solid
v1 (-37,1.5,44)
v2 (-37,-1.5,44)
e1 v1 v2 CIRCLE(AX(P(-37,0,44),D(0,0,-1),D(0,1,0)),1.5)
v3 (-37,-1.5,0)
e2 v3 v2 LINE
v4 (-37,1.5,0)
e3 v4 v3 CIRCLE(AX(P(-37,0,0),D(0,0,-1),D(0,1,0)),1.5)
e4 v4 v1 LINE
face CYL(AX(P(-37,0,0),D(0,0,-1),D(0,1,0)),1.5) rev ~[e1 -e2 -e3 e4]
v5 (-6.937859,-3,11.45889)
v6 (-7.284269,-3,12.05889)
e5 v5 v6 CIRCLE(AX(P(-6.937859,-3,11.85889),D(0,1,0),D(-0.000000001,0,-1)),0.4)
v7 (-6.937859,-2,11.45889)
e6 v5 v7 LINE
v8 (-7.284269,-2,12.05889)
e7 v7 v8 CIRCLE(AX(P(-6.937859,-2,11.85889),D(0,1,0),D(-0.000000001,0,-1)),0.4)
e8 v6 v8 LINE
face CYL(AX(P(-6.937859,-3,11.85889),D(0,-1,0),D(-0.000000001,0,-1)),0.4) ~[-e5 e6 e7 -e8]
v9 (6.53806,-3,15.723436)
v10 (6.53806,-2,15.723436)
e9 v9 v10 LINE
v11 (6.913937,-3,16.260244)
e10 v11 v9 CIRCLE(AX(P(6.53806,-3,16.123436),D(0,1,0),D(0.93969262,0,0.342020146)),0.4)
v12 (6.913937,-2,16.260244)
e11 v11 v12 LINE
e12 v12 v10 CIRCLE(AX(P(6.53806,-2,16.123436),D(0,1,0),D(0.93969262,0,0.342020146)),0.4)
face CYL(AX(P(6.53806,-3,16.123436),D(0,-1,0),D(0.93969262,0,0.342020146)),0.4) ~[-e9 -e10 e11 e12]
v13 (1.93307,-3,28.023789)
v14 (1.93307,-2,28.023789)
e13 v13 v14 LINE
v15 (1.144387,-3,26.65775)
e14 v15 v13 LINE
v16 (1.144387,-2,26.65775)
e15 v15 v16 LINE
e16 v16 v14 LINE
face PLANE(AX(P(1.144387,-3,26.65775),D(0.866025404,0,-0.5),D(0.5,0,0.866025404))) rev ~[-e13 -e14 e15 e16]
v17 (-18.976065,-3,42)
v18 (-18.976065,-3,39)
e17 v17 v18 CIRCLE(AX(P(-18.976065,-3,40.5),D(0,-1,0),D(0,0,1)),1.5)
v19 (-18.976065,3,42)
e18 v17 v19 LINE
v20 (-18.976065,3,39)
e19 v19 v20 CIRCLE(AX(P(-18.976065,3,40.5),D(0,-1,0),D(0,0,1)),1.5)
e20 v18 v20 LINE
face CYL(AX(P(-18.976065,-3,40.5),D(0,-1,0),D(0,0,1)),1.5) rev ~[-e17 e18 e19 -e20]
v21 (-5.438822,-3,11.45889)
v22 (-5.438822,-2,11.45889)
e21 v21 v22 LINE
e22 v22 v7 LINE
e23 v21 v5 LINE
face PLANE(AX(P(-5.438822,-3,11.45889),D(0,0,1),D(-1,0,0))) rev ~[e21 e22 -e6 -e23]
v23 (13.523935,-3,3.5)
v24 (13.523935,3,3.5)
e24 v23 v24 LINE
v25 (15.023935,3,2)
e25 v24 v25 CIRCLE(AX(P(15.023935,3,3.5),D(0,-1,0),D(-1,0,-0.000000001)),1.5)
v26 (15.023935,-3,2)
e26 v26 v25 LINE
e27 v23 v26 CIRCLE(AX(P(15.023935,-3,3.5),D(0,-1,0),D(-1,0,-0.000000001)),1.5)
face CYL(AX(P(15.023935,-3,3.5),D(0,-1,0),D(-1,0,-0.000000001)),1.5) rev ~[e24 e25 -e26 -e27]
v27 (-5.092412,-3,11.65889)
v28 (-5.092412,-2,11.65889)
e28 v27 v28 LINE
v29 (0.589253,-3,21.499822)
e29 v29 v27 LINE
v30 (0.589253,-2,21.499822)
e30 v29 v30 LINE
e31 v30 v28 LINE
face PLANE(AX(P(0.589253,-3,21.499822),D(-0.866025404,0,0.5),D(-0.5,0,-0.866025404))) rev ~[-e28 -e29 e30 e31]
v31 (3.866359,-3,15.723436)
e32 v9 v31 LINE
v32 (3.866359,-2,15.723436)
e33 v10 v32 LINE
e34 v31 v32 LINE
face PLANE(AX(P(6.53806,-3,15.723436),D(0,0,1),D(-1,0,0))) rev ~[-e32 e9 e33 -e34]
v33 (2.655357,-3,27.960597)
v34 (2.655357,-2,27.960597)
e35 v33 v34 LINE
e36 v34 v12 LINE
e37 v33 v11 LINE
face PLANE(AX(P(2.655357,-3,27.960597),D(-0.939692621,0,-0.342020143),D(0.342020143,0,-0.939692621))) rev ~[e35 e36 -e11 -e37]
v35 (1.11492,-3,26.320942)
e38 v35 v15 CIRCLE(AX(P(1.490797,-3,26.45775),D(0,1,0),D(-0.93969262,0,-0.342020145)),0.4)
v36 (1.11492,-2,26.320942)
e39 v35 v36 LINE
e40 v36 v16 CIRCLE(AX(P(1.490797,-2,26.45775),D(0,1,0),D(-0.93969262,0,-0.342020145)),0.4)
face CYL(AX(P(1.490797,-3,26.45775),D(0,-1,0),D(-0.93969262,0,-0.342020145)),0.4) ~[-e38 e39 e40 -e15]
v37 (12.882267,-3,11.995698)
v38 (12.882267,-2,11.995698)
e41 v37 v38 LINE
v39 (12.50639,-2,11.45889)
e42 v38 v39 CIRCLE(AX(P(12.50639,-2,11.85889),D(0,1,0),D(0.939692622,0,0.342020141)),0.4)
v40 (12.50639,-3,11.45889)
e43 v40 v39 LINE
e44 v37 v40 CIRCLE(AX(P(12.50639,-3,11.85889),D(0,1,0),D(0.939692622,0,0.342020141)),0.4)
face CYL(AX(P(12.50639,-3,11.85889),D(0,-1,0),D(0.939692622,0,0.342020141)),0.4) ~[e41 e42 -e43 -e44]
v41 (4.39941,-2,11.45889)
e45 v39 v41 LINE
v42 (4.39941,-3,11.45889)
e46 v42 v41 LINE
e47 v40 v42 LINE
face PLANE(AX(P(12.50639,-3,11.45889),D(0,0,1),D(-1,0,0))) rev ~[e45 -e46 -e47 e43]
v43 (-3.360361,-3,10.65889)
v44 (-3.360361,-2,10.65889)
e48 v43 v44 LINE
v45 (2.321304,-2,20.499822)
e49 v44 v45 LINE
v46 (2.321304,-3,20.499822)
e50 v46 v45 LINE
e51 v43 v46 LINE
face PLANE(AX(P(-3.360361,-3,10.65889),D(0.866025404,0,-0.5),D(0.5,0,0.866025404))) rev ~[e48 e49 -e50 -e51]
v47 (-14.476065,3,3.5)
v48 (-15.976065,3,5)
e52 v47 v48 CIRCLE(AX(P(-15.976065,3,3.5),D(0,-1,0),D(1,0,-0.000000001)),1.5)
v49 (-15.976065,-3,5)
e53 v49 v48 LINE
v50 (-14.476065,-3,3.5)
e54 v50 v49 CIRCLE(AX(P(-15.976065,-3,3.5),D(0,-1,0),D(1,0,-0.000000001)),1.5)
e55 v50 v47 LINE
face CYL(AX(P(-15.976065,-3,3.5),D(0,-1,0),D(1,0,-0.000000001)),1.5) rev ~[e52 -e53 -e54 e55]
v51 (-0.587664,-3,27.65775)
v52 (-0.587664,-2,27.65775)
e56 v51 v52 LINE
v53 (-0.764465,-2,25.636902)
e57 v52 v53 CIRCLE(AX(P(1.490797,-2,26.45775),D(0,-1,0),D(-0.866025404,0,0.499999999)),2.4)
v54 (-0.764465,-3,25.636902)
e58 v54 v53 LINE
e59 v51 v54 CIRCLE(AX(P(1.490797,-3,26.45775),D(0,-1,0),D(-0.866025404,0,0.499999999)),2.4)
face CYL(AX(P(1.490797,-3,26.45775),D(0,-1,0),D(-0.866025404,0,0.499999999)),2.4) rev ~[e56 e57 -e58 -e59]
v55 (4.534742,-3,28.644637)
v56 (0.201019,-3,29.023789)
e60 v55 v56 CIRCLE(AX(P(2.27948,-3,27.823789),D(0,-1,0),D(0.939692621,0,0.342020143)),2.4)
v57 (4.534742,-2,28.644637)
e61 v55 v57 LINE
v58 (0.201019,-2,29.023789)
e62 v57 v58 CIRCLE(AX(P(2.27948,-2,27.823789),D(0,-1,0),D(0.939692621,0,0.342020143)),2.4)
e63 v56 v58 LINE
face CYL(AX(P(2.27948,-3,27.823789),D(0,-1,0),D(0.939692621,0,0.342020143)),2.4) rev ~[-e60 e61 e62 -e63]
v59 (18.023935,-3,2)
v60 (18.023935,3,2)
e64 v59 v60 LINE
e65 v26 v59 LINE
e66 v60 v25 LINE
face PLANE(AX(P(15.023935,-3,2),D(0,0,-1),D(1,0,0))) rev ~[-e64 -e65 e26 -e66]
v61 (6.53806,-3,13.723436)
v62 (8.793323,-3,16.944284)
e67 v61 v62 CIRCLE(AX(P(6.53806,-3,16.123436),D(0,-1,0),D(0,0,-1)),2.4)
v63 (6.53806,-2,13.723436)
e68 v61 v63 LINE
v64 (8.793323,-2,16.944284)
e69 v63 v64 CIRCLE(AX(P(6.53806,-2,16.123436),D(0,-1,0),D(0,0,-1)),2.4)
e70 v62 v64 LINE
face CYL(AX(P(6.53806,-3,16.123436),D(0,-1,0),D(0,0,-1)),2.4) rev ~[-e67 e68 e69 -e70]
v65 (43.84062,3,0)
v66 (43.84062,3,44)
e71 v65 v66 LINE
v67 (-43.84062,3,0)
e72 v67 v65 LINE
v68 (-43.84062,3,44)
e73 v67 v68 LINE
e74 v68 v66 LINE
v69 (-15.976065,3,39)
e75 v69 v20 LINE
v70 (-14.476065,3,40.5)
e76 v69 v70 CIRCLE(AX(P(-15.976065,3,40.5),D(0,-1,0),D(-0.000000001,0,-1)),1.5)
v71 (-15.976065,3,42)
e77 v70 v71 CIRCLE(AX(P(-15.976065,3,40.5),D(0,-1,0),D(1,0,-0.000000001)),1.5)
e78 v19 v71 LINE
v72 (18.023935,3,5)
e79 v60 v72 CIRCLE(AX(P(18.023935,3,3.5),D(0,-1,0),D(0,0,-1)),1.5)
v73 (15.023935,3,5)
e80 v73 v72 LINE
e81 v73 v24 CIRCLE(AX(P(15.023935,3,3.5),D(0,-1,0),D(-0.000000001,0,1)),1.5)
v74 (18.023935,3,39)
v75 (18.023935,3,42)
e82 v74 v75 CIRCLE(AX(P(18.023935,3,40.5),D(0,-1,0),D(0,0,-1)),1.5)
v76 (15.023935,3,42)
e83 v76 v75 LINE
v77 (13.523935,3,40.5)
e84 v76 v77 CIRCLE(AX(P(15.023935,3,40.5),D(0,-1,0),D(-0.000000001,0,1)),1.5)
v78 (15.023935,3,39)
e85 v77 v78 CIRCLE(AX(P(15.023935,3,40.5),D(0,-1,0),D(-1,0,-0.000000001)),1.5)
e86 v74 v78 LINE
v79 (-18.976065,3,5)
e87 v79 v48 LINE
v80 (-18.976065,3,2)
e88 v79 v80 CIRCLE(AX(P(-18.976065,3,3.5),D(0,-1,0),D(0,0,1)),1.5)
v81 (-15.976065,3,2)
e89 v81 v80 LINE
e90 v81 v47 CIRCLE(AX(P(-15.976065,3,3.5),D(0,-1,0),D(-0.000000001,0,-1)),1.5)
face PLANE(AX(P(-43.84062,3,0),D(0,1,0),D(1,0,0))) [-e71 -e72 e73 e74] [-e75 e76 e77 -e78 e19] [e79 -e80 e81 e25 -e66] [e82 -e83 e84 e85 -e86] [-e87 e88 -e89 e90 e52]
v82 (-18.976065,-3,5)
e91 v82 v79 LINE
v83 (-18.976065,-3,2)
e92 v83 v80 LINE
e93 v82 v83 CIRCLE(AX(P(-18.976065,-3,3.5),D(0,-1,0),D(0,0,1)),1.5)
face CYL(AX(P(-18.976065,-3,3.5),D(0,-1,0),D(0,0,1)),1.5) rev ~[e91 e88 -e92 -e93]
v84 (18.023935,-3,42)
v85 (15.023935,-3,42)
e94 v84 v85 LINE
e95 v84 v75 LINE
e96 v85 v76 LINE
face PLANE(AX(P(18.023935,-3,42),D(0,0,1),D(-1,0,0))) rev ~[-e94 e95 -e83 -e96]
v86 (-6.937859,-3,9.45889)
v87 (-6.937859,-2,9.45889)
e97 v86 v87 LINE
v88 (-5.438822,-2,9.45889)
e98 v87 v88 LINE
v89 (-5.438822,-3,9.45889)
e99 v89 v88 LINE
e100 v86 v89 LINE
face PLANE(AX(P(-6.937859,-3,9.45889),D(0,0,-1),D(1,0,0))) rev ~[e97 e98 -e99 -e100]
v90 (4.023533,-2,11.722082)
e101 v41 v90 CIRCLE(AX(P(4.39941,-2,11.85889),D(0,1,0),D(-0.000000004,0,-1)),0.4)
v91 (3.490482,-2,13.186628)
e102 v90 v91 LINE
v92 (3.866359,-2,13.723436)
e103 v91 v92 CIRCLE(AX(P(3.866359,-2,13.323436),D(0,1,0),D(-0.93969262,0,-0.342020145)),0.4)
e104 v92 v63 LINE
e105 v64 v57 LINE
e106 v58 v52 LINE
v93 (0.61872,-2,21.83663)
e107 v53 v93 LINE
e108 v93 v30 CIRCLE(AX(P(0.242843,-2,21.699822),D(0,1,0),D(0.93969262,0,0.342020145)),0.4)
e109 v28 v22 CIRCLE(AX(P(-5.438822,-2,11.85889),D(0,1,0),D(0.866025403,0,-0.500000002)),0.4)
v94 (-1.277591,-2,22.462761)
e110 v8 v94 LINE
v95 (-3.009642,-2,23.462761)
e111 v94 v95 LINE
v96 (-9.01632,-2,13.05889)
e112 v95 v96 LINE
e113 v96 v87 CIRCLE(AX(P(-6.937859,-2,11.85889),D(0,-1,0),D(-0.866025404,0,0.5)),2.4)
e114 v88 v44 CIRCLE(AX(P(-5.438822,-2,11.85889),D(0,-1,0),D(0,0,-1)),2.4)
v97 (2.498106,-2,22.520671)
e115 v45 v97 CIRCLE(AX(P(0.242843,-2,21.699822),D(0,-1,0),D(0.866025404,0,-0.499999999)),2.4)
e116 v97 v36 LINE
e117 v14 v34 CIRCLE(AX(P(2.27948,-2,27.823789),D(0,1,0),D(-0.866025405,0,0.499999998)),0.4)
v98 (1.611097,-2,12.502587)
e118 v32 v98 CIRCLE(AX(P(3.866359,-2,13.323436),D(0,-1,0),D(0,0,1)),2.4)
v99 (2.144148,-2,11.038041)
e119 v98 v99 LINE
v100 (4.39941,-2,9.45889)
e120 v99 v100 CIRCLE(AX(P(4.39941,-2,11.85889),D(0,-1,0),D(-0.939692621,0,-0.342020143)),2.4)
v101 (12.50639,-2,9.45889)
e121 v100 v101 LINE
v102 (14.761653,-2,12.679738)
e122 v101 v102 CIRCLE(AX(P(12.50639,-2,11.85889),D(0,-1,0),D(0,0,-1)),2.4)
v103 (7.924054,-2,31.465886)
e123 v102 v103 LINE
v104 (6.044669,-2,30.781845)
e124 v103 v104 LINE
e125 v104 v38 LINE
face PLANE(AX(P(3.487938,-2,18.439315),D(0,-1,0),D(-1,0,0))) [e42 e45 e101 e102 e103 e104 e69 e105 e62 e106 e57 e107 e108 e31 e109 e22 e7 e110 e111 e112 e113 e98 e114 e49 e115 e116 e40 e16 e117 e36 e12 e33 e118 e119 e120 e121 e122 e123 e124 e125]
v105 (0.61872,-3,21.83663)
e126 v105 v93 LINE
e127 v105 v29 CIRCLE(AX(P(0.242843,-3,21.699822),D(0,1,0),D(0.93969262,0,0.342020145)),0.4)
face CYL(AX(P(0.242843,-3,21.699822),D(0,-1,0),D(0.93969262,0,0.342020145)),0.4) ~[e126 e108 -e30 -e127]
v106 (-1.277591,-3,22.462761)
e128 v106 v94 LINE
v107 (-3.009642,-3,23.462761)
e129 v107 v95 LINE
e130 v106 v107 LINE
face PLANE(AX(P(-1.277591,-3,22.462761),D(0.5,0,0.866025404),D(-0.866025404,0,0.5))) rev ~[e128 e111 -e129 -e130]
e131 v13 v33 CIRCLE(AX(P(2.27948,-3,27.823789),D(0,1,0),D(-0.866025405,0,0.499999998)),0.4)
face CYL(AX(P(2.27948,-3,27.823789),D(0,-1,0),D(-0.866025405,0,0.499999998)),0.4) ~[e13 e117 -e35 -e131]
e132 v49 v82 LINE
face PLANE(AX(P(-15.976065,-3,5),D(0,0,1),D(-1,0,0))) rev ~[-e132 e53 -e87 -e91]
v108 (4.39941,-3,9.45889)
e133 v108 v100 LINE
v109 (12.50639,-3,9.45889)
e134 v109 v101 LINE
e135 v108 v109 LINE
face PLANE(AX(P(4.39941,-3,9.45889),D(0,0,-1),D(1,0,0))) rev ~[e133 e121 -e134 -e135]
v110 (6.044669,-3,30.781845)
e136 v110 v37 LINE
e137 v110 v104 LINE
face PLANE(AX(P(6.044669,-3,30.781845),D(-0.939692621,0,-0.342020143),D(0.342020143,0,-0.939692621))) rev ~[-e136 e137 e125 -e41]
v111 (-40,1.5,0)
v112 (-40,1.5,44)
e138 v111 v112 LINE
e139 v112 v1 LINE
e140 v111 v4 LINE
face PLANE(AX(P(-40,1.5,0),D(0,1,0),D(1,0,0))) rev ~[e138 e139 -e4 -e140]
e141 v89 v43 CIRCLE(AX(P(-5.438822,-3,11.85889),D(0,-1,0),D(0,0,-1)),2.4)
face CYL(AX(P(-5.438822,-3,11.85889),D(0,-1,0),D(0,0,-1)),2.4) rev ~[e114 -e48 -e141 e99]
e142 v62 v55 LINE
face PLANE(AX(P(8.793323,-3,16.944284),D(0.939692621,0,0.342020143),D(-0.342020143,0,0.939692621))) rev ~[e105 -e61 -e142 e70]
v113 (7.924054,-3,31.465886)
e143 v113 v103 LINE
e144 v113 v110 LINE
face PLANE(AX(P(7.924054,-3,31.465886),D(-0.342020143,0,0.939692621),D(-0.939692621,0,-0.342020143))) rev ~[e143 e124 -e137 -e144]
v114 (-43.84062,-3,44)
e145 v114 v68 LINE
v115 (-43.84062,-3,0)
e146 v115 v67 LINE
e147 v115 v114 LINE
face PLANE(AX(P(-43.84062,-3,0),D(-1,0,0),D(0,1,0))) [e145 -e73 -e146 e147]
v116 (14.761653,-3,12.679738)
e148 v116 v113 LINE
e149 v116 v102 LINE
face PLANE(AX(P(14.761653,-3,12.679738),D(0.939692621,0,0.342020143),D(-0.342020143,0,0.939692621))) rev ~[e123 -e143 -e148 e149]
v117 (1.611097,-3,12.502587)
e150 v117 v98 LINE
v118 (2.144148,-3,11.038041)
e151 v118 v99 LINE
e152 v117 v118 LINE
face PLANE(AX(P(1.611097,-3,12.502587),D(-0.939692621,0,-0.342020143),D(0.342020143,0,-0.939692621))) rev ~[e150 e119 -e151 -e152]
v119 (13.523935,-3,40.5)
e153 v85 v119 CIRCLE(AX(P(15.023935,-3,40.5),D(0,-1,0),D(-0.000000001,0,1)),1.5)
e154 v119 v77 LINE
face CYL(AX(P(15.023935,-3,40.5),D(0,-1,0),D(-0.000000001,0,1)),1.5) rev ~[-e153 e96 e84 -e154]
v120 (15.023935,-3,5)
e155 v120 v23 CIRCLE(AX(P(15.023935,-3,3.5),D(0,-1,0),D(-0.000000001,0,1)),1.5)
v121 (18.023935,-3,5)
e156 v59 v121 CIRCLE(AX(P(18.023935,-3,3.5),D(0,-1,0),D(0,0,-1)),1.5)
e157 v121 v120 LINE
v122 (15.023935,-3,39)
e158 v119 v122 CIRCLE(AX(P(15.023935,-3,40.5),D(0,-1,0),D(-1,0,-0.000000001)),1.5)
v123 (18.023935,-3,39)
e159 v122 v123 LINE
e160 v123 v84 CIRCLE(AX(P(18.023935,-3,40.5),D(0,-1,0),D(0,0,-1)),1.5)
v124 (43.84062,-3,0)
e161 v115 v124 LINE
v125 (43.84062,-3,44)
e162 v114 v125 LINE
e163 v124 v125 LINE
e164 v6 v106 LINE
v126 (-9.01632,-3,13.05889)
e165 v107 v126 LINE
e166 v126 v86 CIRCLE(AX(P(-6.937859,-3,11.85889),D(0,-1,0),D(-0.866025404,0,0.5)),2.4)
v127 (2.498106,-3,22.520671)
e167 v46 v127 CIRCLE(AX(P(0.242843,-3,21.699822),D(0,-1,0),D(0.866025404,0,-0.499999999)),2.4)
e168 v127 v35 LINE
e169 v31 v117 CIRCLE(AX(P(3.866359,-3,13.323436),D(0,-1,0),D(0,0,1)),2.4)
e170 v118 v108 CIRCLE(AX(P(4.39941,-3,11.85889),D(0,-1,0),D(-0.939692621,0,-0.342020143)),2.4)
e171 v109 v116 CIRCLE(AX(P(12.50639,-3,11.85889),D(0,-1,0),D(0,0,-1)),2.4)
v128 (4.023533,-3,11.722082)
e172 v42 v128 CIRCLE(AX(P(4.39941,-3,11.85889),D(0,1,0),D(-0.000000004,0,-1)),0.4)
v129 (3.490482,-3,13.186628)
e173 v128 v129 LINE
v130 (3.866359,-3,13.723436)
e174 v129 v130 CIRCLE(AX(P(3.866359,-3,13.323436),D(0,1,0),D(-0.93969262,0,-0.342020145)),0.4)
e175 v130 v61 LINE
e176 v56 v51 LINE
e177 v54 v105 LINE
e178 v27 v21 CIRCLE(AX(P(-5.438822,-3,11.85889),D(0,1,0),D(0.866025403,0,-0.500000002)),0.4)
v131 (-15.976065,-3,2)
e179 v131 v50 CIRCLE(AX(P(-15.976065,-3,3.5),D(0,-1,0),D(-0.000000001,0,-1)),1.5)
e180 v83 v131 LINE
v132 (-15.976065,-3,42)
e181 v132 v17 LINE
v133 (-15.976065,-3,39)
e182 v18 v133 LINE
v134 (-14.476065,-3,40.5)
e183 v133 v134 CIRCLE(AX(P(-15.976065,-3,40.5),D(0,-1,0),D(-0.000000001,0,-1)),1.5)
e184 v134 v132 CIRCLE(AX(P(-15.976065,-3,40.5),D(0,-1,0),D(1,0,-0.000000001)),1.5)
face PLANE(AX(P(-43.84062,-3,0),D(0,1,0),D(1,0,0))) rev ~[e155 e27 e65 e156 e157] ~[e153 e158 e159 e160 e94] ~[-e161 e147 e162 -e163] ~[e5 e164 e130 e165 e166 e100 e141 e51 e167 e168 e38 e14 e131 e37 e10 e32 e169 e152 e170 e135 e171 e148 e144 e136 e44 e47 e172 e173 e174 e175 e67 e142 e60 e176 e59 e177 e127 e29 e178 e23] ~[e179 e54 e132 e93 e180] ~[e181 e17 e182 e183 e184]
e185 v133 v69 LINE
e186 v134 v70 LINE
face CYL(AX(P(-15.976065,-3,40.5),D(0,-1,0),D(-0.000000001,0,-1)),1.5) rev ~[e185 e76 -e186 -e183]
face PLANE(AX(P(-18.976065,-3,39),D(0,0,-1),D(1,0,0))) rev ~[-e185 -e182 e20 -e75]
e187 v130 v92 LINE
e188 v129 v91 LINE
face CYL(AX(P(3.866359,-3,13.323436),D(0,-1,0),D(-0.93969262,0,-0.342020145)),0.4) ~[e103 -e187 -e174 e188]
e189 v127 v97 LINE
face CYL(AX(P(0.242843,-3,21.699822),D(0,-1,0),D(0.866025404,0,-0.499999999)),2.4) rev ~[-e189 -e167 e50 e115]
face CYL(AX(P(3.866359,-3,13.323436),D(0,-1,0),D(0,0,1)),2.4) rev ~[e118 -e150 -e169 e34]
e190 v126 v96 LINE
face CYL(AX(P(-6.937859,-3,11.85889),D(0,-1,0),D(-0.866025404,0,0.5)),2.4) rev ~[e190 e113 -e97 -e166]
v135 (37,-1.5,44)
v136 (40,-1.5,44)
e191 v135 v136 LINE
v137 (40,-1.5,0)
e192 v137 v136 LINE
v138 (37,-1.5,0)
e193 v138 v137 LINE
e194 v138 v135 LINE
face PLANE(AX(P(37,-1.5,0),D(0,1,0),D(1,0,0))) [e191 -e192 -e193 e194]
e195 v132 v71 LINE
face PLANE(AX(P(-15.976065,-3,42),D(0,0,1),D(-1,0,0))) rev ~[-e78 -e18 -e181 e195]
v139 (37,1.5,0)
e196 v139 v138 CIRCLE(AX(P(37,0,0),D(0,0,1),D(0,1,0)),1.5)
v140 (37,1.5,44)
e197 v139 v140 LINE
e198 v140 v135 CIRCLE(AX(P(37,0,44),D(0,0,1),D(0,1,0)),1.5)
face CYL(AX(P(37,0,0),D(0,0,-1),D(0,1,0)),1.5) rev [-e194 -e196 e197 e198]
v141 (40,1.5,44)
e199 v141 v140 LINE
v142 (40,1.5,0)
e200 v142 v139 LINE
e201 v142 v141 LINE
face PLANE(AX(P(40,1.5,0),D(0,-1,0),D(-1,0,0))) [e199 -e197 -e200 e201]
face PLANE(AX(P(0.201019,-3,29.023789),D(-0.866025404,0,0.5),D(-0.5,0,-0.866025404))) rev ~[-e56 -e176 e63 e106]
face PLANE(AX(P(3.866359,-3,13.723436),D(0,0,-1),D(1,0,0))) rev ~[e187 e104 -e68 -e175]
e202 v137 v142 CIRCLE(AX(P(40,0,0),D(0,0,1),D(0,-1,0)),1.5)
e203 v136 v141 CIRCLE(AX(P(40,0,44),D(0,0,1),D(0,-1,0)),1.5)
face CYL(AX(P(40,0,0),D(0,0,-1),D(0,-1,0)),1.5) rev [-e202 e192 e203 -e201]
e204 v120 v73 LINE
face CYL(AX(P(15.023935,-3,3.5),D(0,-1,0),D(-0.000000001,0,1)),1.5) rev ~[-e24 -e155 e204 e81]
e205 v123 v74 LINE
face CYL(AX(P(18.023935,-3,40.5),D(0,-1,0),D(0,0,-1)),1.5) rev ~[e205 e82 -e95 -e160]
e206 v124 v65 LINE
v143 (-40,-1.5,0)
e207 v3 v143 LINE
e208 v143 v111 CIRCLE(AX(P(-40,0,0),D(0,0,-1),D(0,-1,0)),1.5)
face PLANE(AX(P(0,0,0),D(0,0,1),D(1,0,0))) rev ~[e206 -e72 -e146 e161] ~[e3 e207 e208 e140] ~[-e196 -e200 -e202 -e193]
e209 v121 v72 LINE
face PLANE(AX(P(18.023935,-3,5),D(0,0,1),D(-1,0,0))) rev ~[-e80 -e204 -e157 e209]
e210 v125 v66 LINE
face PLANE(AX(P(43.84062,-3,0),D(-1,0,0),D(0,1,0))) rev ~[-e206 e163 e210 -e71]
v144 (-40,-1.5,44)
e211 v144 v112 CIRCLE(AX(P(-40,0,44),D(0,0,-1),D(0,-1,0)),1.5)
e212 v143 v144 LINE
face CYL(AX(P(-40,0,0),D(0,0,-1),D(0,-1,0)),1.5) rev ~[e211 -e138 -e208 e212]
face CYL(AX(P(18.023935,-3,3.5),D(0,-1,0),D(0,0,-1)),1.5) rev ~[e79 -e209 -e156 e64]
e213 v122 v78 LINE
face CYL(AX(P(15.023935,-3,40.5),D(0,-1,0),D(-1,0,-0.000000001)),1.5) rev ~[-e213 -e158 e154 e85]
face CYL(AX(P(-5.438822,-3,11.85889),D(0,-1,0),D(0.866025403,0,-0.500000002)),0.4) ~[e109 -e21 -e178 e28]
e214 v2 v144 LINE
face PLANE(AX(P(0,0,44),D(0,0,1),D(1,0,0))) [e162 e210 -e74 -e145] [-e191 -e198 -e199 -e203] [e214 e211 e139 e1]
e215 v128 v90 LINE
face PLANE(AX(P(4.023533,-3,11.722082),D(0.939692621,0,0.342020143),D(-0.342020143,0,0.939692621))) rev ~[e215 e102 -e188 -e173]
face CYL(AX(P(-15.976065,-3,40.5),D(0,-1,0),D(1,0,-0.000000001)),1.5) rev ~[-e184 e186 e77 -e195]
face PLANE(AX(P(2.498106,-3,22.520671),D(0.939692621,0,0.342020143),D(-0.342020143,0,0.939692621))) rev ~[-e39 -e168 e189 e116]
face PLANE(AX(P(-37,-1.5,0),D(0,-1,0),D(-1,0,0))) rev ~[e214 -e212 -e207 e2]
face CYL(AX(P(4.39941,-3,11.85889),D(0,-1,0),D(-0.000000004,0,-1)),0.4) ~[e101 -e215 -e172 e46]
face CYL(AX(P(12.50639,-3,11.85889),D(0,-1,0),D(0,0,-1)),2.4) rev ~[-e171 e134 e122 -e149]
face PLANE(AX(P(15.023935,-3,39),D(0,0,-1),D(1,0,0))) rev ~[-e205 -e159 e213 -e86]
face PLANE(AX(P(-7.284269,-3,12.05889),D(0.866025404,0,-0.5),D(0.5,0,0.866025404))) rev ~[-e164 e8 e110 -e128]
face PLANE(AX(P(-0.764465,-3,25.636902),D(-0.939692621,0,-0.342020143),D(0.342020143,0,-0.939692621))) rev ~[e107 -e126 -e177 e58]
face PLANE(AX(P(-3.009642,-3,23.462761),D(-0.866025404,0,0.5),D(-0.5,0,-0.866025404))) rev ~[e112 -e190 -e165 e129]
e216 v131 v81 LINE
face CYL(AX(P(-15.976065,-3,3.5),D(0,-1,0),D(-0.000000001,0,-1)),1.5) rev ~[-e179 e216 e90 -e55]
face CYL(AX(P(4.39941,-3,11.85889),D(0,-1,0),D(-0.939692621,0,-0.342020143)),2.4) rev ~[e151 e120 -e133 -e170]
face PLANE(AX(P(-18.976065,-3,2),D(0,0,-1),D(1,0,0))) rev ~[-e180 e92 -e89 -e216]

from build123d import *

# Parameters (mm, degrees)
SKETCH_1_W               = 87.68124
SKETCH_1_H               = 6
EXTRUDE_1_DEPTH          = 44
CUT_EXTRUDE_1_DEPTH      = 1
CUT_EXTRUDE_1_DEPTH_BACK = 1
CUT_EXTRUDE_1_2_DEPTH    = 44


with BuildPart() as part:
    # 草图1 → 凸台-拉伸1 (new body)
    with BuildSketch(Plane.XY):
        Rectangle(SKETCH_1_W, SKETCH_1_H)
        with BuildLine():
            Line((-40, 1.5), (-37, 1.5))
            ThreePointArc((-37, 1.5), (-35.5, 0), (-37, -1.5))
            Line((-37, -1.5), (-40, -1.5))
            ThreePointArc((-40, -1.5), (-41.5, 0), (-40, 1.5))
        make_face(mode=Mode.SUBTRACT)
        with BuildLine():
            Line((40, 1.5), (37, 1.5))
            ThreePointArc((37, 1.5), (35.5, 0), (37, -1.5))
            Line((37, -1.5), (40, -1.5))
            ThreePointArc((40, -1.5), (41.5, 0), (40, 1.5))
        make_face(mode=Mode.SUBTRACT)
    extrude(amount=EXTRUDE_1_DEPTH)

    # 草图2 → Cut-Extrude 1 (cut, two sides)
    with BuildSketch(Plane(origin=(0, -3, 0), x_dir=(-1, 0, 0), z_dir=(0, -1, 0))) as cut_extrude_1_sk:
        with BuildLine():
            Line((3.009641995, -23.462761216), (9.016320028, -13.058889678))
            ThreePointArc((9.016320028, -13.058889678), (9.016320028, -10.658889678), (6.937859059, -9.458889678))
            Line((6.937859059, -9.458889678), (5.438821813, -9.458889678))
            ThreePointArc((5.438821813, -9.458889678), (4.238821813, -9.780428709), (3.360360844, -10.658889678))
            Line((3.360360844, -10.658889678), (-2.321304295, -20.499822371))
            ThreePointArc((-2.321304295, -20.499822371), (-2.633710601, -21.490648588), (-2.498105616, -22.520670715))
            Line((-2.498105616, -22.520670715), (-1.114919938, -26.320942131))
            ThreePointArc((-1.114919938, -26.320942131), (-1.092319107, -26.492612485), (-1.144386825, -26.657750188))
            Line((-1.144386825, -26.657750188), (-1.93306975, -28.023789086))
            ThreePointArc((-1.93306975, -28.023789086), (-2.314342209, -28.222266966), (-2.65535696, -27.960597144))
            Line((-2.65535696, -27.960597144), (-6.91393735, -16.260243683))
            ThreePointArc((-6.91393735, -16.260243683), (-6.86572112, -15.894005051), (-6.538060302, -15.723435626))
            Line((-6.538060302, -15.723435626), (-3.866358933, -15.723435626))
            ThreePointArc((-3.866358933, -15.723435626), (-1.900394027, -14.700019073), (-1.611096643, -12.502587282))
            Line((-1.611096643, -12.502587282), (-2.144147775, -11.038041334))
            ThreePointArc((-2.144147775, -11.038041334), (-3.022826617, -9.892924772), (-4.399410065, -9.458889678))
            Line((-4.399410065, -9.458889678), (-12.506390341, -9.458889678))
            ThreePointArc((-12.506390341, -9.458889678), (-14.472355248, -10.482306231), (-14.761652631, -12.679738022))
            Line((-14.761652631, -12.679738022), (-7.924054064, -31.46588569))
            Line((-7.924054064, -31.46588569), (-6.044668822, -30.781845403))
            Line((-6.044668822, -30.781845403), (-12.88226739, -11.995697736))
            ThreePointArc((-12.88226739, -11.995697736), (-12.834051159, -11.629459104), (-12.506390341, -11.458889678))
            Line((-12.506390341, -11.458889678), (-4.399410065, -11.458889678))
            ThreePointArc((-4.399410065, -11.458889678), (-4.16997949, -11.531228861), (-4.023533016, -11.722081621))
            Line((-4.023533016, -11.722081621), (-3.490481885, -13.186627568))
            ThreePointArc((-3.490481885, -13.186627568), (-3.538698115, -13.5528662), (-3.866358933, -13.723435626))
            Line((-3.866358933, -13.723435626), (-6.538060302, -13.723435626))
            ThreePointArc((-6.538060302, -13.723435626), (-8.504025208, -14.746852178), (-8.793322592, -16.94428397))
            Line((-8.793322592, -16.94428397), (-4.534742202, -28.64463743))
            ThreePointArc((-4.534742202, -28.64463743), (-2.488653694, -30.214656362), (-0.201018943, -29.023789086))
            Line((-0.201018943, -29.023789086), (0.587663983, -27.657750188))
            ThreePointArc((0.587663983, -27.657750188), (0.900070289, -26.666923971), (0.764465304, -25.636901844))
            Line((0.764465304, -25.636901844), (-0.618720374, -21.836630428))
            ThreePointArc((-0.618720374, -21.836630428), (-0.641321205, -21.664960074), (-0.589253487, -21.499822371))
            Line((-0.589253487, -21.499822371), (5.092411652, -11.658889678))
            ThreePointArc((5.092411652, -11.658889678), (5.238821813, -11.512479517), (5.438821813, -11.458889678))
            Line((5.438821813, -11.458889678), (6.937859059, -11.458889678))
            ThreePointArc((6.937859059, -11.458889678), (7.28426922, -11.658889678), (7.28426922, -12.058889678))
            Line((7.28426922, -12.058889678), (1.277591188, -22.462761216))
            Line((1.277591188, -22.462761216), (3.009641995, -23.462761216))
        make_face()
    extrude(amount=CUT_EXTRUDE_1_DEPTH, mode=Mode.SUBTRACT)
    extrude(cut_extrude_1_sk.sketch, amount=-CUT_EXTRUDE_1_DEPTH_BACK, mode=Mode.SUBTRACT)

    # 草图3 → Cut-Extrude 1 2 (cut)
    with BuildSketch(Plane.XZ.offset(3)):
        with BuildLine():
            Line((-18.97606525, 39), (-18.97606525, 40.5))
            Line((-18.97606525, 40.5), (-14.47606525, 40.5))
            ThreePointArc((-14.47606525, 40.5), (-14.915405078, 41.560660172), (-15.97606525, 42))
            Line((-15.97606525, 42), (-18.97606525, 42))
            ThreePointArc((-18.97606525, 42), (-20.47606525, 40.5), (-18.97606525, 39))
        make_face()
        with BuildLine():
            ThreePointArc((15.02393475, 42), (13.963274579, 41.560660172), (13.52393475, 40.5))
            Line((13.52393475, 40.5), (18.02393475, 40.5))
            Line((18.02393475, 40.5), (18.02393475, 39))
            ThreePointArc((18.02393475, 39), (19.52393475, 40.5), (18.02393475, 42))
            Line((18.02393475, 42), (15.02393475, 42))
        make_face()
        with BuildLine():
            ThreePointArc((18.02393475, 2), (19.52393475, 3.5), (18.02393475, 5))
            Line((18.02393475, 5), (18.02393475, 3.5))
            Line((18.02393475, 3.5), (13.52393475, 3.5))
            ThreePointArc((13.52393475, 3.5), (13.963274579, 2.439339828), (15.02393475, 2))
            Line((15.02393475, 2), (18.02393475, 2))
        make_face()
        with BuildLine():
            Line((-18.97606525, 3.5), (-18.97606525, 5))
            ThreePointArc((-18.97606525, 5), (-20.47606525, 3.5), (-18.97606525, 2))
            Line((-18.97606525, 2), (-15.97606525, 2))
            ThreePointArc((-15.97606525, 2), (-14.915405078, 2.439339828), (-14.47606525, 3.5))
            Line((-14.47606525, 3.5), (-18.97606525, 3.5))
        make_face()
        with BuildLine():
            Line((-15.97606525, 5), (-18.97606525, 5))
            Line((-18.97606525, 5), (-18.97606525, 3.5))
            Line((-18.97606525, 3.5), (-14.47606525, 3.5))
            ThreePointArc((-14.47606525, 3.5), (-14.915405078, 4.560660172), (-15.97606525, 5))
        make_face()
        with BuildLine():
            Line((-14.47606525, 40.5), (-18.97606525, 40.5))
            Line((-18.97606525, 40.5), (-18.97606525, 39))
            Line((-18.97606525, 39), (-15.97606525, 39))
            ThreePointArc((-15.97606525, 39), (-14.915405078, 39.439339828), (-14.47606525, 40.5))
        make_face()
        with BuildLine():
            Line((18.02393475, 40.5), (13.52393475, 40.5))
            ThreePointArc((13.52393475, 40.5), (13.963274579, 39.439339828), (15.02393475, 39))
            Line((15.02393475, 39), (18.02393475, 39))
            Line((18.02393475, 39), (18.02393475, 40.5))
        make_face()
        with BuildLine():
            Line((18.02393475, 3.5), (18.02393475, 5))
            Line((18.02393475, 5), (15.02393475, 5))
            ThreePointArc((15.02393475, 5), (13.963274579, 4.560660172), (13.52393475, 3.5))
            Line((13.52393475, 3.5), (18.02393475, 3.5))
        make_face()
    extrude(amount=-CUT_EXTRUDE_1_2_DEPTH, mode=Mode.SUBTRACT)


solid = part.part
